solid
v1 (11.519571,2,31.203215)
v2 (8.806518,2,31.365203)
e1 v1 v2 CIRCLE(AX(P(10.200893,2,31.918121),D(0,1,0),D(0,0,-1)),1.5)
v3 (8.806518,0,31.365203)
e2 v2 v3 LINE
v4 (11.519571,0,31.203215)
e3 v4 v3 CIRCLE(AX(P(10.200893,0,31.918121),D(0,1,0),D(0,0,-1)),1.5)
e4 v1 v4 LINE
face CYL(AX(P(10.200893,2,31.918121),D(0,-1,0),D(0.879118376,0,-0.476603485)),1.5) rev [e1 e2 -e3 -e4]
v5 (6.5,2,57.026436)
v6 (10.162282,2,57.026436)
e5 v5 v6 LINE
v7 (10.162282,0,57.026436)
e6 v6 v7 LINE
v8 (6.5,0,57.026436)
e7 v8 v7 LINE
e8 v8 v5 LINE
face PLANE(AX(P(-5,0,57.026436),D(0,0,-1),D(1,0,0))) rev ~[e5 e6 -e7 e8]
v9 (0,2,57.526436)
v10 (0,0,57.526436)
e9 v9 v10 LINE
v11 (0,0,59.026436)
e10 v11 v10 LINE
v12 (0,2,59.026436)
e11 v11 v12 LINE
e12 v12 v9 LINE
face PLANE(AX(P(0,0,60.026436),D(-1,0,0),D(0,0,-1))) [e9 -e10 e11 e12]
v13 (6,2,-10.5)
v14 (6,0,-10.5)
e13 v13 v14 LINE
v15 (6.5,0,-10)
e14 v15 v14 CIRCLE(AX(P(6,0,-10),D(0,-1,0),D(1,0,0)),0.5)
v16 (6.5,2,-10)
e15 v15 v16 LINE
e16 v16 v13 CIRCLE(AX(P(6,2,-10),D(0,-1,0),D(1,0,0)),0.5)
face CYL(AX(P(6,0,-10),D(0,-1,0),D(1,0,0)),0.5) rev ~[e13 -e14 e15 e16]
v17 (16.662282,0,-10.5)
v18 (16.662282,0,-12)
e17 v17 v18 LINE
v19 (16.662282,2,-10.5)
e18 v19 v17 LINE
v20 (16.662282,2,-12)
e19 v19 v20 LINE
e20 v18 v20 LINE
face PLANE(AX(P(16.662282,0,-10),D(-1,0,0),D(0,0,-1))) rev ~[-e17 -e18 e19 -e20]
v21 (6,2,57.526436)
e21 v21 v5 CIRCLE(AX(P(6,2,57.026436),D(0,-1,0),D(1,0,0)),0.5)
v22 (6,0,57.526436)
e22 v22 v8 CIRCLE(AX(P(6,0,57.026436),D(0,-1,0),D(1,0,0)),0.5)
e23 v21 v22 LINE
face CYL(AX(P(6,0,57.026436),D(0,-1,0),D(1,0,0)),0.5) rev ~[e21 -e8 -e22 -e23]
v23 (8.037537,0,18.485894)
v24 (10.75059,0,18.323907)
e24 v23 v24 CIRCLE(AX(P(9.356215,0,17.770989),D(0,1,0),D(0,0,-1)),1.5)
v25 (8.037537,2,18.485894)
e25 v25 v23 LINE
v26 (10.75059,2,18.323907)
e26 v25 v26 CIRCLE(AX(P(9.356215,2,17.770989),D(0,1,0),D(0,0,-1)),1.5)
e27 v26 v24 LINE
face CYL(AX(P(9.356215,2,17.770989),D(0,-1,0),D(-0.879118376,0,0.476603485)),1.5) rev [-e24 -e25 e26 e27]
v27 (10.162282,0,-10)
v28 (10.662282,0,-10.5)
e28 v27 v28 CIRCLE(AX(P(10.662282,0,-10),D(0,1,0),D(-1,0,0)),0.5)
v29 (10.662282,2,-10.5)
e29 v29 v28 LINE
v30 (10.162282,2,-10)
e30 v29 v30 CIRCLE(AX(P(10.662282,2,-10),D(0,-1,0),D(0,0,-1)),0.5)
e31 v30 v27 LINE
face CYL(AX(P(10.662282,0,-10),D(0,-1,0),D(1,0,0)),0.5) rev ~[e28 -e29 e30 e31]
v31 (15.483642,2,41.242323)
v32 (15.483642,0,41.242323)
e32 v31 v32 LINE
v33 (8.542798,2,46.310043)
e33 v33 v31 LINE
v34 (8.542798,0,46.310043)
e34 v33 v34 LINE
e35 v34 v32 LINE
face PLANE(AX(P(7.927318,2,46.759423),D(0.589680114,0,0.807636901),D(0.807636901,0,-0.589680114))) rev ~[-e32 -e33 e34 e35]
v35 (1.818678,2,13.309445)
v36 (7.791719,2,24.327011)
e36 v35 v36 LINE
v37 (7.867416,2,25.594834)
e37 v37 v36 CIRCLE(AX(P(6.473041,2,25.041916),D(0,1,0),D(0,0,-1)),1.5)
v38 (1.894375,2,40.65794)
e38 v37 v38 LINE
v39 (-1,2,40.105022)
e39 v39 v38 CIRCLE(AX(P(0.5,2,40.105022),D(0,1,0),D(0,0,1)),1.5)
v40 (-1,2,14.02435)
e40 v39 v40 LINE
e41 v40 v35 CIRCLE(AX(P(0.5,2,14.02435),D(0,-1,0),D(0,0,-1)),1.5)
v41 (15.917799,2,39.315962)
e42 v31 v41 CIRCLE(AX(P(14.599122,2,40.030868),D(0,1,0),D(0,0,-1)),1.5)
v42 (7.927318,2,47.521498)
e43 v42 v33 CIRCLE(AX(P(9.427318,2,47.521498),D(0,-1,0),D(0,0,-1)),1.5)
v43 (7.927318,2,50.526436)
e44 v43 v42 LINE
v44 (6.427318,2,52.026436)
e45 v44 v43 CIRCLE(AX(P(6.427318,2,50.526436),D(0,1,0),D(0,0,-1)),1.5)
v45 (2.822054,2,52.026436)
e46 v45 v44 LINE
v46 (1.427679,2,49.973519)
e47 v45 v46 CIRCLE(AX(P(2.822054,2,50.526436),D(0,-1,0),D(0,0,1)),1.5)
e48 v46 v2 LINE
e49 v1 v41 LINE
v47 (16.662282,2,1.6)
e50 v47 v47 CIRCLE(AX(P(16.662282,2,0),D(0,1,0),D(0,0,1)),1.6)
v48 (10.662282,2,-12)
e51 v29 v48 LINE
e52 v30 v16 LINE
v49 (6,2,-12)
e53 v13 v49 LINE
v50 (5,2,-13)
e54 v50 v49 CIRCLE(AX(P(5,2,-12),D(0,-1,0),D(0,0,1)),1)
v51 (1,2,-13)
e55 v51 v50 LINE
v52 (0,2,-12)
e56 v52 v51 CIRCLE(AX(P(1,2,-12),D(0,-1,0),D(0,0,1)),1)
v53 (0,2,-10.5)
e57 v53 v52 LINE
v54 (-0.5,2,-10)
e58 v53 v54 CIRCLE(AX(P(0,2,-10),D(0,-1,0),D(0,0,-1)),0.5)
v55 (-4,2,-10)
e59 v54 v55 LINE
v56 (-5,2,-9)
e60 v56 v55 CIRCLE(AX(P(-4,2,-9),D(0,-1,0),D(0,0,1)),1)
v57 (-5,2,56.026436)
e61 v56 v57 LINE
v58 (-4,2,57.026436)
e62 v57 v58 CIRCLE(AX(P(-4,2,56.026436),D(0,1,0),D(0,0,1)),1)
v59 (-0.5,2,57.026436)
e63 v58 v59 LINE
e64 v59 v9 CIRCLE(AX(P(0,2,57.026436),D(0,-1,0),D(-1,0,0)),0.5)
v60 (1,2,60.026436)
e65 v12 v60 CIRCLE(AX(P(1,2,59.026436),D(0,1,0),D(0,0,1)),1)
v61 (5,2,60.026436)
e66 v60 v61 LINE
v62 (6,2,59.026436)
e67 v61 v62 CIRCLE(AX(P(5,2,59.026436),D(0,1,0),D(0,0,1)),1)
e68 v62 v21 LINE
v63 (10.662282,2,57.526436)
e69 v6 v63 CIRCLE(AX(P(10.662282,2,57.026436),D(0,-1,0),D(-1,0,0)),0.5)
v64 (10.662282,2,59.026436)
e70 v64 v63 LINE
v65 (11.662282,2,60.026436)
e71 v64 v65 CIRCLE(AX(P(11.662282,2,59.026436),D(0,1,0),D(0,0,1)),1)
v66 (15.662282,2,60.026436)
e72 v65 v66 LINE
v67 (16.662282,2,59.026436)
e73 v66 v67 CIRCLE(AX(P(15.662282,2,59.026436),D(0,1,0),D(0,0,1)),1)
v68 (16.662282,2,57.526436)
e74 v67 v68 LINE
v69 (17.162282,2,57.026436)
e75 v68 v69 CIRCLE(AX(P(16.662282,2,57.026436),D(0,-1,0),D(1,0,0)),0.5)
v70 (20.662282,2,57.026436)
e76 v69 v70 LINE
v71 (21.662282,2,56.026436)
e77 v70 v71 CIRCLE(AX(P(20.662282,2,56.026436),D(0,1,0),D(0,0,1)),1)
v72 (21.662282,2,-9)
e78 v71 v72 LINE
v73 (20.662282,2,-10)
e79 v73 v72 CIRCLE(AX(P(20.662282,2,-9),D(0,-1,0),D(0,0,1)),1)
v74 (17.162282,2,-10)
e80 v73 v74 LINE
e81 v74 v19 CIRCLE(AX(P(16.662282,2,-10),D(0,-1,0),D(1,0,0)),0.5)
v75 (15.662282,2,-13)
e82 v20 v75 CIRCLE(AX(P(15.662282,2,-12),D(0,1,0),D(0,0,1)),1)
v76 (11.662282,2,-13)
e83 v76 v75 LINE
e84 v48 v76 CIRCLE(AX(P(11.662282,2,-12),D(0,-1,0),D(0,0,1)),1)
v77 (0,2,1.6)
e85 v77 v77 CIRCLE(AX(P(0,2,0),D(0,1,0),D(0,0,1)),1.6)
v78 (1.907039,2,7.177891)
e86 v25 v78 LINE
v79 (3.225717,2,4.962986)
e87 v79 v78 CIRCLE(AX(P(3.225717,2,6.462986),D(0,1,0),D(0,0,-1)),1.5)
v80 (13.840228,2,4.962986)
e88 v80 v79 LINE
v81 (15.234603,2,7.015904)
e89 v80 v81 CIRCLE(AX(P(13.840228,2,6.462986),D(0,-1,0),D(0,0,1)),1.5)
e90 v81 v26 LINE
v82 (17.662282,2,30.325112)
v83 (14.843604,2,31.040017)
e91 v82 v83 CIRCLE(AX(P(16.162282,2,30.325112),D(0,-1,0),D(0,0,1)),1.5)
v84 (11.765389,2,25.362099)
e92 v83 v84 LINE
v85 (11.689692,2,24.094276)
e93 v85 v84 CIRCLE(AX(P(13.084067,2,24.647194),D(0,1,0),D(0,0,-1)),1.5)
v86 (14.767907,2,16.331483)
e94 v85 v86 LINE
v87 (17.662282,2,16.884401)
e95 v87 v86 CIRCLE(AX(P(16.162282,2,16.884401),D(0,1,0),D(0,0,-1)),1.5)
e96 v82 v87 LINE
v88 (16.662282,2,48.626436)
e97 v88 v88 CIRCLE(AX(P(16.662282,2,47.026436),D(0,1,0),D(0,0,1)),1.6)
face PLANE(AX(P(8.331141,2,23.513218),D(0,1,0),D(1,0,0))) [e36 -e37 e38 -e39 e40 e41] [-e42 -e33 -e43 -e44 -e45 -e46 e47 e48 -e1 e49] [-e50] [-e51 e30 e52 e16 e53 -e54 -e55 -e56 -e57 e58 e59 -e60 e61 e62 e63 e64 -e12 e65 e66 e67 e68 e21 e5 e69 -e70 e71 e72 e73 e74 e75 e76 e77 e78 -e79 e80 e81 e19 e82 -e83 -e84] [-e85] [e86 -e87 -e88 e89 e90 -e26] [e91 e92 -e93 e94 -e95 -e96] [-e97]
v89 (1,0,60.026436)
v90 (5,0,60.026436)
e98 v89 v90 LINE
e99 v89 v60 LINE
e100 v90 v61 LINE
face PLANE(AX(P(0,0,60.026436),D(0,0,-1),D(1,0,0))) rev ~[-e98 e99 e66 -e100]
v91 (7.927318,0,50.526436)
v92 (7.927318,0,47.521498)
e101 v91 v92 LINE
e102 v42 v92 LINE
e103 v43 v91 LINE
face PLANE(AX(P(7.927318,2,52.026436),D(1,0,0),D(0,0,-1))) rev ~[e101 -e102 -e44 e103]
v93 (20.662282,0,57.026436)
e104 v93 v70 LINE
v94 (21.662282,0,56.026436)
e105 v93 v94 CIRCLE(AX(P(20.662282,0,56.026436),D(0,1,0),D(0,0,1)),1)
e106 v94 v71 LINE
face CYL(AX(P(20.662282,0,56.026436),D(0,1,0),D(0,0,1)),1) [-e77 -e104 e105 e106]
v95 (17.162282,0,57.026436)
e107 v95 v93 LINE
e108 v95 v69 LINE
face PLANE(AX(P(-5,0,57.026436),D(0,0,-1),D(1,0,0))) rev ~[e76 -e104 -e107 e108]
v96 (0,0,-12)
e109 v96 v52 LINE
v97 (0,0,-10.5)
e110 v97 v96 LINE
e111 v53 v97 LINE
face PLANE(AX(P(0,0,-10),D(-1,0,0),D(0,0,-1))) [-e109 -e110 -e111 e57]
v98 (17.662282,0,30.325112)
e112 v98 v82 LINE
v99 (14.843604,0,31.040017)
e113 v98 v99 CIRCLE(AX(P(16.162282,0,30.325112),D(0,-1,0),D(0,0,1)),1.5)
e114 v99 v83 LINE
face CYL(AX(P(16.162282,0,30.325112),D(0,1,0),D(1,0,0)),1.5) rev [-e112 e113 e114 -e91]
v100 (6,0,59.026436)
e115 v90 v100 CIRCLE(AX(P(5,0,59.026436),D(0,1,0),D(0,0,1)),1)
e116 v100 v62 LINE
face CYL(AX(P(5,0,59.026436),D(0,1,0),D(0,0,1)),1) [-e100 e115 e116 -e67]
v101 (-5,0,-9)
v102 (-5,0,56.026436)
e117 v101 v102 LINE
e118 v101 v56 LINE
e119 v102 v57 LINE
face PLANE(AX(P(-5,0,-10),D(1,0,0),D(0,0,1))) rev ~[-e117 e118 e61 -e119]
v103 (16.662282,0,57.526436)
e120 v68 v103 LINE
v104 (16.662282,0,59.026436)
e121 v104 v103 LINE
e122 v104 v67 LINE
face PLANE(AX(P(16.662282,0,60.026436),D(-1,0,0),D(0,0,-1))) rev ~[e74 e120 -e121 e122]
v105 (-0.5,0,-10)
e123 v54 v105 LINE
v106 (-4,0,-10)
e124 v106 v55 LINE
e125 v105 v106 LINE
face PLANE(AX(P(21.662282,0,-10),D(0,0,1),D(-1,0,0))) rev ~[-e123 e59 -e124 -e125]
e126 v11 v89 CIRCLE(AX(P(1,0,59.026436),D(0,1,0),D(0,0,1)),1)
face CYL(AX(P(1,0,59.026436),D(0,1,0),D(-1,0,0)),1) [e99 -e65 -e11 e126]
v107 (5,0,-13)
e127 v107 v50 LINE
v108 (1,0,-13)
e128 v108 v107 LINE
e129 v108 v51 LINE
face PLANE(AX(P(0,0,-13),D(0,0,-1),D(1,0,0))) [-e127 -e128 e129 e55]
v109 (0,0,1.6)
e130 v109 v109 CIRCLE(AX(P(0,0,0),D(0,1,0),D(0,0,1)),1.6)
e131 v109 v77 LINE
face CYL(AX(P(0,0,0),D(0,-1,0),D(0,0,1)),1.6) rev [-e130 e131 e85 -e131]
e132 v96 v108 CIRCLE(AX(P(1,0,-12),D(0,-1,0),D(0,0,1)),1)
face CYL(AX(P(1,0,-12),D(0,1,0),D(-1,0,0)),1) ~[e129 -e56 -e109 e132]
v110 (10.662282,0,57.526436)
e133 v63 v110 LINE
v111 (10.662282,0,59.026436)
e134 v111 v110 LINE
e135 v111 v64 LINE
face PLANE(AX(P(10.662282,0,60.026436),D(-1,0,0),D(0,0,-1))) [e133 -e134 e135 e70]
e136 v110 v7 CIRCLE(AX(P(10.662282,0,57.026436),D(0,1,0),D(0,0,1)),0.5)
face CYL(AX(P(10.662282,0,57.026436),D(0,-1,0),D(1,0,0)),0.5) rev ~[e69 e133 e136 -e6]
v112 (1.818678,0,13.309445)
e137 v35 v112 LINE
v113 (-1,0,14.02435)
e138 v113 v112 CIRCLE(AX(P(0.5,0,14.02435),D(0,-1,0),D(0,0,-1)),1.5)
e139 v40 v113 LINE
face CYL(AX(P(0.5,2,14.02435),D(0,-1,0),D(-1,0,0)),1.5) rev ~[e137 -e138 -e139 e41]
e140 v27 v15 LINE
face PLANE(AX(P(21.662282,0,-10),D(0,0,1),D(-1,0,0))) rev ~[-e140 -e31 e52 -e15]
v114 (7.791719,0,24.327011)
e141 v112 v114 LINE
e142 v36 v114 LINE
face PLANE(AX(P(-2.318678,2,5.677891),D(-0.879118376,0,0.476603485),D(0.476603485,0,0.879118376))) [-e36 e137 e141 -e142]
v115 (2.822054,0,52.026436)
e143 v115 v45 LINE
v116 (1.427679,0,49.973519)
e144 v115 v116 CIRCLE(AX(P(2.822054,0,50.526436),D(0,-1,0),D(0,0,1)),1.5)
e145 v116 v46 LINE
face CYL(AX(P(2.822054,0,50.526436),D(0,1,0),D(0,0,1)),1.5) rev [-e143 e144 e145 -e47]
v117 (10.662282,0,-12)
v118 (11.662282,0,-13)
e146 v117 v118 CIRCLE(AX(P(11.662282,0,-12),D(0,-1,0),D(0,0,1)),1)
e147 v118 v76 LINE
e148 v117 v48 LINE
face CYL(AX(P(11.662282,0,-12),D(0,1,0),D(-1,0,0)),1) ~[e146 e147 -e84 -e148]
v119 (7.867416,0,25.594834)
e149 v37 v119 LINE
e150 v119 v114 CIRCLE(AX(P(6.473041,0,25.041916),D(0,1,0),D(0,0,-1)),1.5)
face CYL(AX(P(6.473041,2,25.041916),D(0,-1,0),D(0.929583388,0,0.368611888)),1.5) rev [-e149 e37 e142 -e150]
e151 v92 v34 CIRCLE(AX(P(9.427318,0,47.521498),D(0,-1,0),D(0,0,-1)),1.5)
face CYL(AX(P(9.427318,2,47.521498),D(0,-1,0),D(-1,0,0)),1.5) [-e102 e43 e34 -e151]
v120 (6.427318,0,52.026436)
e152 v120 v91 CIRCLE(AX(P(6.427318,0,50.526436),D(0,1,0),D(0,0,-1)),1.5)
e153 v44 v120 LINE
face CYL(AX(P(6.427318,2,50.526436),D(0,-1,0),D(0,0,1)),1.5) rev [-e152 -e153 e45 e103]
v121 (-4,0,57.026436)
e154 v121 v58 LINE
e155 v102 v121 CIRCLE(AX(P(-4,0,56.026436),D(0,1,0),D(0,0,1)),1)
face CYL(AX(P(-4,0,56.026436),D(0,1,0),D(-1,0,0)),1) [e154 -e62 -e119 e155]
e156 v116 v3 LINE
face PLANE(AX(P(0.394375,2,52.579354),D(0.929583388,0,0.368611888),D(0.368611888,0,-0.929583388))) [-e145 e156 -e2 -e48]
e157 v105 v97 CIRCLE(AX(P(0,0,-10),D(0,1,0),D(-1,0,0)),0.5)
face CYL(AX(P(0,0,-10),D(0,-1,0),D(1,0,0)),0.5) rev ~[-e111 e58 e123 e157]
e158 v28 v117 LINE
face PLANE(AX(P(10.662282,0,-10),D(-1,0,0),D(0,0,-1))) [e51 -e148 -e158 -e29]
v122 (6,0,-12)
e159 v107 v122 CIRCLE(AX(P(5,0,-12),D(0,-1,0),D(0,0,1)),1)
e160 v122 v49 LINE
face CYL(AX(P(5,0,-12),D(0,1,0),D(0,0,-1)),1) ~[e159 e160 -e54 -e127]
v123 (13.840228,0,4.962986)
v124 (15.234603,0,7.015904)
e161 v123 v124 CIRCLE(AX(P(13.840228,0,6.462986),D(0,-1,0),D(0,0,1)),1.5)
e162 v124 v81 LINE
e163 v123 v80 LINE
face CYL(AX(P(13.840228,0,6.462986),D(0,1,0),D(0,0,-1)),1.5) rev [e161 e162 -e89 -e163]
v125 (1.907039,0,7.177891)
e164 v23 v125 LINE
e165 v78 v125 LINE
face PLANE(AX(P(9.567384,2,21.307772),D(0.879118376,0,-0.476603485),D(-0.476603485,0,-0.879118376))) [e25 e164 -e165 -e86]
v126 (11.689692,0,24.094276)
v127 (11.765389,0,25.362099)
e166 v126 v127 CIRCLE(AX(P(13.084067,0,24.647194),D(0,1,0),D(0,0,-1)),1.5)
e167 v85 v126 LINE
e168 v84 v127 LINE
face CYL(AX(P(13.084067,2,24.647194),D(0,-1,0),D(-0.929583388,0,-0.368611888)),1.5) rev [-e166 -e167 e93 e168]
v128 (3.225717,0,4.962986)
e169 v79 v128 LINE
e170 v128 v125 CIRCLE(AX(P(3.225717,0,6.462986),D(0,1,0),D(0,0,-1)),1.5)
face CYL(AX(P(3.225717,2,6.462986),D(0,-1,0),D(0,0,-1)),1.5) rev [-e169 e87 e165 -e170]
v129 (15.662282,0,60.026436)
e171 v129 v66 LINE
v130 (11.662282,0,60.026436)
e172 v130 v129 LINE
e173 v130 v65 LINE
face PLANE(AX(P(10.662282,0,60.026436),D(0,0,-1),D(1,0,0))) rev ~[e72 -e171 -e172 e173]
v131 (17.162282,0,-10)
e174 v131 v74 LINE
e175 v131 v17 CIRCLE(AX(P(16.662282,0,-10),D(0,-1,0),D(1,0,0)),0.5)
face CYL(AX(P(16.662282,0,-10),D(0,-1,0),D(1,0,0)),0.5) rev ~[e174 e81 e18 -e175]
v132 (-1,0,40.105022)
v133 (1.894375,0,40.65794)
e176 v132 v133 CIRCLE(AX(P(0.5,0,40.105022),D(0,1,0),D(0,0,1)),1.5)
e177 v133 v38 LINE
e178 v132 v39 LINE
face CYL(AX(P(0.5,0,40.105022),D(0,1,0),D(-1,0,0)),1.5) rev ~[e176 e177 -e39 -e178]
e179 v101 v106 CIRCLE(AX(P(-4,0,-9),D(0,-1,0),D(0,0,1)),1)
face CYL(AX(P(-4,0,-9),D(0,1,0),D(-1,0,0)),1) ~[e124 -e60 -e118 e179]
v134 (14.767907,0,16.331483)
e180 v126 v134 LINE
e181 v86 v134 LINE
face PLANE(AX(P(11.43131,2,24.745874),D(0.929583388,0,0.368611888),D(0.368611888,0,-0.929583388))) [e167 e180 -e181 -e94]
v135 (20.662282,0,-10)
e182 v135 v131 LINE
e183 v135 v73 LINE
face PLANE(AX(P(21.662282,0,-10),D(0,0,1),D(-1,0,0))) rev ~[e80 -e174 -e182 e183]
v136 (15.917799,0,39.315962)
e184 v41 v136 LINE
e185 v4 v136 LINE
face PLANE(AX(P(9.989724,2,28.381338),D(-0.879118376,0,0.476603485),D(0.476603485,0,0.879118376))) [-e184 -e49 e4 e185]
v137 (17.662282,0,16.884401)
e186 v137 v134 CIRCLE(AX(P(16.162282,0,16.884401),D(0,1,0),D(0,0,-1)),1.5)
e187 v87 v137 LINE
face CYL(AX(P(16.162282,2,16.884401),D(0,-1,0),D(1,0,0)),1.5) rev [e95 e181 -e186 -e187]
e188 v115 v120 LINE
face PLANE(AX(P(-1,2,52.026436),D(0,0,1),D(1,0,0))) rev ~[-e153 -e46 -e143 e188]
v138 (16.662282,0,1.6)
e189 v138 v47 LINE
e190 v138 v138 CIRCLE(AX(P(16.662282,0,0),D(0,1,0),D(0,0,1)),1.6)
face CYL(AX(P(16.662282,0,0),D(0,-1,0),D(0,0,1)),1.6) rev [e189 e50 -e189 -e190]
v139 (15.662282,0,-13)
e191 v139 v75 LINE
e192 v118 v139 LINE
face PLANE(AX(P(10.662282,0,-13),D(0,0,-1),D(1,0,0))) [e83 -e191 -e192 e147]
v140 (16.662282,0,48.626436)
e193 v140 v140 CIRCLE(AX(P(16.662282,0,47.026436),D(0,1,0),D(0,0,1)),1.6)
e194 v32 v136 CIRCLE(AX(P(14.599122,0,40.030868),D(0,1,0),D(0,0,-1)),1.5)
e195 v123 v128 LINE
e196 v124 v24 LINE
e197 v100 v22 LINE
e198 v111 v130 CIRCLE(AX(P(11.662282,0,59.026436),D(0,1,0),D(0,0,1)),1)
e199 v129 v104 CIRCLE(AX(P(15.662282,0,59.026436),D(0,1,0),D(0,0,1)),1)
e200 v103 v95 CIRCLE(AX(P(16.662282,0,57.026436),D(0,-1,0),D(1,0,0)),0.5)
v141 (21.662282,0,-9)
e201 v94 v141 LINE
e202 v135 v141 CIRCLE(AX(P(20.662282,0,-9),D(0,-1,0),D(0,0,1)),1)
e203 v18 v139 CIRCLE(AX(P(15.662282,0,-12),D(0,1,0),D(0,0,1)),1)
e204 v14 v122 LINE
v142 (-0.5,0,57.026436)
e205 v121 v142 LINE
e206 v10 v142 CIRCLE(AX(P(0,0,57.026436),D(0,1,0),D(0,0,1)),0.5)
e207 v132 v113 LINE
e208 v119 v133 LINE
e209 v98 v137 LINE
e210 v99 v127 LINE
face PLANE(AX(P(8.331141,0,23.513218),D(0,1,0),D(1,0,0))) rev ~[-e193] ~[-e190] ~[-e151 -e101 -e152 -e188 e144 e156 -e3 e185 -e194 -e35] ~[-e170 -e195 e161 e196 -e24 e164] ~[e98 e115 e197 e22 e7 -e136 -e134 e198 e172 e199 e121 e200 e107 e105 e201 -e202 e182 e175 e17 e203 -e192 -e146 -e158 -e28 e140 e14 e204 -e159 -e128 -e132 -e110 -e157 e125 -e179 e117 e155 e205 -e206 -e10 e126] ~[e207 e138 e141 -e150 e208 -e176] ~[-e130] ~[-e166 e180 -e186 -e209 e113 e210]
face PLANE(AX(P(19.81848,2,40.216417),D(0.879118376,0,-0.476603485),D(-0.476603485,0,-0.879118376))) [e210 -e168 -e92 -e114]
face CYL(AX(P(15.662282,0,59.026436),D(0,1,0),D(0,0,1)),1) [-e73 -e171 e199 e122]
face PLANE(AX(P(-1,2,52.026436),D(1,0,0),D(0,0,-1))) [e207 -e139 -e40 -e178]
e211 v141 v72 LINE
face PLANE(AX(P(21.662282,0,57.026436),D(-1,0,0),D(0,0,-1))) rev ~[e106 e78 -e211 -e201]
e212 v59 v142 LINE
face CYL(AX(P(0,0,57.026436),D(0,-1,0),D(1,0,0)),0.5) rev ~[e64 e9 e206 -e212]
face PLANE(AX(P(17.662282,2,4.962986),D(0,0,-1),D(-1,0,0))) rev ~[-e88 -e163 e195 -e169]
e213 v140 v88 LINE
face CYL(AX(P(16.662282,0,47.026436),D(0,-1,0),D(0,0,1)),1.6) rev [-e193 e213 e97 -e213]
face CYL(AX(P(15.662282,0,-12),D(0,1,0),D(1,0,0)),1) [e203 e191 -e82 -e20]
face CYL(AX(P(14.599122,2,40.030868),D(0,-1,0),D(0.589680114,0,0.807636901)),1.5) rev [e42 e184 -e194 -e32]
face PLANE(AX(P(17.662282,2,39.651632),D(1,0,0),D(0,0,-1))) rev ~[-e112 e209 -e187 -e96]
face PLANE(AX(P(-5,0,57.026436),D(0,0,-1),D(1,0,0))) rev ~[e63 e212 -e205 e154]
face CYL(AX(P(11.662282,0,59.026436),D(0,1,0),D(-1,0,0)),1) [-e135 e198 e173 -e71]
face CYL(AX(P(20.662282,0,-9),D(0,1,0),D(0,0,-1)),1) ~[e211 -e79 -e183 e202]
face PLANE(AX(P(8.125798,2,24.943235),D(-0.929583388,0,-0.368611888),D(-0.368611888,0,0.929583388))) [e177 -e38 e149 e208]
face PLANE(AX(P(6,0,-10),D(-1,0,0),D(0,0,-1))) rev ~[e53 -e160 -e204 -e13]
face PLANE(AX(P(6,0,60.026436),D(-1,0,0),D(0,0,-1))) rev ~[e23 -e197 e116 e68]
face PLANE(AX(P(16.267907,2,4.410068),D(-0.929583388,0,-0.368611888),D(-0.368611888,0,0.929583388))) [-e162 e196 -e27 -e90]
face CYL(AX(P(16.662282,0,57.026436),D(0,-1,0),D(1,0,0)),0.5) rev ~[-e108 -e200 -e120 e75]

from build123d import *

# Parameters (mm, degrees)
SKETCH1_R           = 1.6
SKETCH1_W           = 6
SKETCH1_H           = 3
BOSS_EXTRUDE1_DEPTH = 2
FILLET1_R           = 1
SKETCH3_R           = 0.5
CUT_EXTRUDE1_DEPTH  = 2
SKETCH4_W           = 8.927318102
SKETCH4_H           = 47.063450143
SKETCH4_W_2         = 9.73496377
SKETCH4_H_2         = 34.688645835
CUT_EXTRUDE2_DEPTH  = 2
EXTRUDE_THIN1_DEPTH = 2
FILLET2_R           = 1.5


with BuildPart() as part:
    # Sketch1 → Boss-Extrude1 (new body)
    # profile 1 of 5: a face of its own
    with BuildSketch(Plane(origin=(0, 0, 0), x_dir=(1, 0, 0), z_dir=(0, 1, 0))):
        Polygon((6, 10), (0, 10), (-5, 10), (-5, -57.026436391), (0, -57.026436391), (6, -57.026436391), (10.662281872, -57.026436391), (16.662281872, -57.026436391), (21.662281872, -57.026436391), (21.662281872, 10), (16.662281872, 10), (10.662281872, 10), align=None)
        with Locations(Location((16.662281872, -47.026436391, 0), (0, 0, 270))):
            Circle(SKETCH1_R, mode=Mode.SUBTRACT)
        with Locations(Location((0, 0, 0), (0, 0, 270))):
            Circle(SKETCH1_R, mode=Mode.SUBTRACT)
        with Locations(Location((16.662281872, 0, 0), (0, 0, 270))):
            Circle(SKETCH1_R, mode=Mode.SUBTRACT)
    # profile 2 of 5: a face of its own
    with BuildSketch(Plane(origin=(0, 0, 0), x_dir=(1, 0, 0), z_dir=(0, 1, 0))):
        with Locations((13.662281872, 11.5)):
            Rectangle(SKETCH1_W, SKETCH1_H)
    # profile 3 of 5: a face of its own
    with BuildSketch(Plane(origin=(0, 0, 0), x_dir=(1, 0, 0), z_dir=(0, 1, 0))):
        with Locations((3, 11.5)):
            Rectangle(SKETCH1_W, SKETCH1_H)
    # profile 4 of 5: a face of its own
    with BuildSketch(Plane(origin=(0, 0, 0), x_dir=(1, 0, 0), z_dir=(0, 1, 0))):
        with Locations((3, -58.526436391)):
            Rectangle(SKETCH1_W, SKETCH1_H)
    # profile 5 of 5: a face of its own
    with BuildSketch(Plane(origin=(0, 0, 0), x_dir=(1, 0, 0), z_dir=(0, 1, 0))):
        with Locations((13.662281872, -58.526436391)):
            Rectangle(SKETCH1_W, SKETCH1_H)
    extrude(amount=BOSS_EXTRUDE1_DEPTH)

    # Fillet1
    fillet1_edges = [part.edges().sort_by_distance(p)[0] for p in [
        (21.662281872, 1, 57.026436391),
        (16.662281872, 1, 60.026436391),
        (10.662281872, 1, 60.026436391),
        (6, 1, 60.026436391),
        (0, 1, 60.026436391),
        (-5, 1, 57.026436391),
        (-5, 1, -10),
        (0, 1, -13),
        (6, 1, -13),
        (10.662281872, 1, -13),
        (16.662281872, 1, -13),
        (21.662281872, 1, -10),
    ]]
    fillet(fillet1_edges, radius=FILLET1_R)

    # Sketch3 → Cut-Extrude1 (cut)
    with BuildSketch(Plane.XZ):
        with Locations((0, 57.026436391)):
            Circle(SKETCH3_R)
        with Locations((6, 57.026436391)):
            Circle(SKETCH3_R)
        with Locations((10.662281872, 57.026436391)):
            Circle(SKETCH3_R)
        with Locations((16.662281872, 57.026436391)):
            Circle(SKETCH3_R)
        with Locations((0, -10)):
            Circle(SKETCH3_R)
        with Locations((6, -10)):
            Circle(SKETCH3_R)
        with Locations((10.662281872, -10)):
            Circle(SKETCH3_R)
        with Locations((16.662281872, -10)):
            Circle(SKETCH3_R)
    extrude(amount=-CUT_EXTRUDE1_DEPTH, mode=Mode.SUBTRACT)

    # Sketch4 → Cut-Extrude2 (cut)
    with BuildSketch(Plane(origin=(0, 2, 0), x_dir=(1, 0, 0), z_dir=(0, 1, 0))):
        with Locations((3.463659051, -28.49471132)):
            Rectangle(SKETCH4_W, SKETCH4_H)
        with Locations((12.794799987, -22.307309166)):
            Rectangle(SKETCH4_W_2, SKETCH4_H_2)
        Polygon((7.927318102, -39.651632083), (7.927318102, -46.759423391), (17.662281872, -39.651632083), align=None)
    extrude(amount=-CUT_EXTRUDE2_DEPTH, mode=Mode.SUBTRACT)

    # Sketch6 → Extrude-Thin1 (add)
    with BuildSketch(Plane(origin=(0, 2, 0), x_dir=(1, 0, 0), z_dir=(0, 1, 0))):
        Polygon((-2.318677564, -5.677891475), (17.181124518, -41.646227603), (19.818479645, -40.216417149), (0.318677564, -4.248081021), align=None)
        Polygon((16.267906789, -4.410068416), (-2.394375083, -51.473518559), (0.394375083, -52.579354223), (19.056656955, -5.51590408), align=None)
    extrude(amount=-EXTRUDE_THIN1_DEPTH)

    # Fillet2
    fillet2_edges = [part.edges().sort_by_distance(p)[0] for p in [
        (7.927318102, 1, 46.759423391),
        (7.927318102, 1, 52.026436391),
        (17.662281872, 1, 9.032306985),
        (17.662281872, 1, 36.239205179),
        (16.048655791, 1, 4.962986248),
        (0.706254859, 1, 4.962986248),
        (-1, 1, 47.957115655),
        (-1, 1, 8.110256565),
        (0.613626081, 1, 52.026436391),
        (16.542874861, 1, 40.468944978),
        (9.989723555, 1, 28.381337735),
        (9.567384345, 1, 21.307771825),
        (11.431310298, 1, 24.745874168),
        (8.125797601, 1, 24.943235392),
    ]]
    fillet(fillet2_edges, radius=FILLET2_R)


solid = part.part
